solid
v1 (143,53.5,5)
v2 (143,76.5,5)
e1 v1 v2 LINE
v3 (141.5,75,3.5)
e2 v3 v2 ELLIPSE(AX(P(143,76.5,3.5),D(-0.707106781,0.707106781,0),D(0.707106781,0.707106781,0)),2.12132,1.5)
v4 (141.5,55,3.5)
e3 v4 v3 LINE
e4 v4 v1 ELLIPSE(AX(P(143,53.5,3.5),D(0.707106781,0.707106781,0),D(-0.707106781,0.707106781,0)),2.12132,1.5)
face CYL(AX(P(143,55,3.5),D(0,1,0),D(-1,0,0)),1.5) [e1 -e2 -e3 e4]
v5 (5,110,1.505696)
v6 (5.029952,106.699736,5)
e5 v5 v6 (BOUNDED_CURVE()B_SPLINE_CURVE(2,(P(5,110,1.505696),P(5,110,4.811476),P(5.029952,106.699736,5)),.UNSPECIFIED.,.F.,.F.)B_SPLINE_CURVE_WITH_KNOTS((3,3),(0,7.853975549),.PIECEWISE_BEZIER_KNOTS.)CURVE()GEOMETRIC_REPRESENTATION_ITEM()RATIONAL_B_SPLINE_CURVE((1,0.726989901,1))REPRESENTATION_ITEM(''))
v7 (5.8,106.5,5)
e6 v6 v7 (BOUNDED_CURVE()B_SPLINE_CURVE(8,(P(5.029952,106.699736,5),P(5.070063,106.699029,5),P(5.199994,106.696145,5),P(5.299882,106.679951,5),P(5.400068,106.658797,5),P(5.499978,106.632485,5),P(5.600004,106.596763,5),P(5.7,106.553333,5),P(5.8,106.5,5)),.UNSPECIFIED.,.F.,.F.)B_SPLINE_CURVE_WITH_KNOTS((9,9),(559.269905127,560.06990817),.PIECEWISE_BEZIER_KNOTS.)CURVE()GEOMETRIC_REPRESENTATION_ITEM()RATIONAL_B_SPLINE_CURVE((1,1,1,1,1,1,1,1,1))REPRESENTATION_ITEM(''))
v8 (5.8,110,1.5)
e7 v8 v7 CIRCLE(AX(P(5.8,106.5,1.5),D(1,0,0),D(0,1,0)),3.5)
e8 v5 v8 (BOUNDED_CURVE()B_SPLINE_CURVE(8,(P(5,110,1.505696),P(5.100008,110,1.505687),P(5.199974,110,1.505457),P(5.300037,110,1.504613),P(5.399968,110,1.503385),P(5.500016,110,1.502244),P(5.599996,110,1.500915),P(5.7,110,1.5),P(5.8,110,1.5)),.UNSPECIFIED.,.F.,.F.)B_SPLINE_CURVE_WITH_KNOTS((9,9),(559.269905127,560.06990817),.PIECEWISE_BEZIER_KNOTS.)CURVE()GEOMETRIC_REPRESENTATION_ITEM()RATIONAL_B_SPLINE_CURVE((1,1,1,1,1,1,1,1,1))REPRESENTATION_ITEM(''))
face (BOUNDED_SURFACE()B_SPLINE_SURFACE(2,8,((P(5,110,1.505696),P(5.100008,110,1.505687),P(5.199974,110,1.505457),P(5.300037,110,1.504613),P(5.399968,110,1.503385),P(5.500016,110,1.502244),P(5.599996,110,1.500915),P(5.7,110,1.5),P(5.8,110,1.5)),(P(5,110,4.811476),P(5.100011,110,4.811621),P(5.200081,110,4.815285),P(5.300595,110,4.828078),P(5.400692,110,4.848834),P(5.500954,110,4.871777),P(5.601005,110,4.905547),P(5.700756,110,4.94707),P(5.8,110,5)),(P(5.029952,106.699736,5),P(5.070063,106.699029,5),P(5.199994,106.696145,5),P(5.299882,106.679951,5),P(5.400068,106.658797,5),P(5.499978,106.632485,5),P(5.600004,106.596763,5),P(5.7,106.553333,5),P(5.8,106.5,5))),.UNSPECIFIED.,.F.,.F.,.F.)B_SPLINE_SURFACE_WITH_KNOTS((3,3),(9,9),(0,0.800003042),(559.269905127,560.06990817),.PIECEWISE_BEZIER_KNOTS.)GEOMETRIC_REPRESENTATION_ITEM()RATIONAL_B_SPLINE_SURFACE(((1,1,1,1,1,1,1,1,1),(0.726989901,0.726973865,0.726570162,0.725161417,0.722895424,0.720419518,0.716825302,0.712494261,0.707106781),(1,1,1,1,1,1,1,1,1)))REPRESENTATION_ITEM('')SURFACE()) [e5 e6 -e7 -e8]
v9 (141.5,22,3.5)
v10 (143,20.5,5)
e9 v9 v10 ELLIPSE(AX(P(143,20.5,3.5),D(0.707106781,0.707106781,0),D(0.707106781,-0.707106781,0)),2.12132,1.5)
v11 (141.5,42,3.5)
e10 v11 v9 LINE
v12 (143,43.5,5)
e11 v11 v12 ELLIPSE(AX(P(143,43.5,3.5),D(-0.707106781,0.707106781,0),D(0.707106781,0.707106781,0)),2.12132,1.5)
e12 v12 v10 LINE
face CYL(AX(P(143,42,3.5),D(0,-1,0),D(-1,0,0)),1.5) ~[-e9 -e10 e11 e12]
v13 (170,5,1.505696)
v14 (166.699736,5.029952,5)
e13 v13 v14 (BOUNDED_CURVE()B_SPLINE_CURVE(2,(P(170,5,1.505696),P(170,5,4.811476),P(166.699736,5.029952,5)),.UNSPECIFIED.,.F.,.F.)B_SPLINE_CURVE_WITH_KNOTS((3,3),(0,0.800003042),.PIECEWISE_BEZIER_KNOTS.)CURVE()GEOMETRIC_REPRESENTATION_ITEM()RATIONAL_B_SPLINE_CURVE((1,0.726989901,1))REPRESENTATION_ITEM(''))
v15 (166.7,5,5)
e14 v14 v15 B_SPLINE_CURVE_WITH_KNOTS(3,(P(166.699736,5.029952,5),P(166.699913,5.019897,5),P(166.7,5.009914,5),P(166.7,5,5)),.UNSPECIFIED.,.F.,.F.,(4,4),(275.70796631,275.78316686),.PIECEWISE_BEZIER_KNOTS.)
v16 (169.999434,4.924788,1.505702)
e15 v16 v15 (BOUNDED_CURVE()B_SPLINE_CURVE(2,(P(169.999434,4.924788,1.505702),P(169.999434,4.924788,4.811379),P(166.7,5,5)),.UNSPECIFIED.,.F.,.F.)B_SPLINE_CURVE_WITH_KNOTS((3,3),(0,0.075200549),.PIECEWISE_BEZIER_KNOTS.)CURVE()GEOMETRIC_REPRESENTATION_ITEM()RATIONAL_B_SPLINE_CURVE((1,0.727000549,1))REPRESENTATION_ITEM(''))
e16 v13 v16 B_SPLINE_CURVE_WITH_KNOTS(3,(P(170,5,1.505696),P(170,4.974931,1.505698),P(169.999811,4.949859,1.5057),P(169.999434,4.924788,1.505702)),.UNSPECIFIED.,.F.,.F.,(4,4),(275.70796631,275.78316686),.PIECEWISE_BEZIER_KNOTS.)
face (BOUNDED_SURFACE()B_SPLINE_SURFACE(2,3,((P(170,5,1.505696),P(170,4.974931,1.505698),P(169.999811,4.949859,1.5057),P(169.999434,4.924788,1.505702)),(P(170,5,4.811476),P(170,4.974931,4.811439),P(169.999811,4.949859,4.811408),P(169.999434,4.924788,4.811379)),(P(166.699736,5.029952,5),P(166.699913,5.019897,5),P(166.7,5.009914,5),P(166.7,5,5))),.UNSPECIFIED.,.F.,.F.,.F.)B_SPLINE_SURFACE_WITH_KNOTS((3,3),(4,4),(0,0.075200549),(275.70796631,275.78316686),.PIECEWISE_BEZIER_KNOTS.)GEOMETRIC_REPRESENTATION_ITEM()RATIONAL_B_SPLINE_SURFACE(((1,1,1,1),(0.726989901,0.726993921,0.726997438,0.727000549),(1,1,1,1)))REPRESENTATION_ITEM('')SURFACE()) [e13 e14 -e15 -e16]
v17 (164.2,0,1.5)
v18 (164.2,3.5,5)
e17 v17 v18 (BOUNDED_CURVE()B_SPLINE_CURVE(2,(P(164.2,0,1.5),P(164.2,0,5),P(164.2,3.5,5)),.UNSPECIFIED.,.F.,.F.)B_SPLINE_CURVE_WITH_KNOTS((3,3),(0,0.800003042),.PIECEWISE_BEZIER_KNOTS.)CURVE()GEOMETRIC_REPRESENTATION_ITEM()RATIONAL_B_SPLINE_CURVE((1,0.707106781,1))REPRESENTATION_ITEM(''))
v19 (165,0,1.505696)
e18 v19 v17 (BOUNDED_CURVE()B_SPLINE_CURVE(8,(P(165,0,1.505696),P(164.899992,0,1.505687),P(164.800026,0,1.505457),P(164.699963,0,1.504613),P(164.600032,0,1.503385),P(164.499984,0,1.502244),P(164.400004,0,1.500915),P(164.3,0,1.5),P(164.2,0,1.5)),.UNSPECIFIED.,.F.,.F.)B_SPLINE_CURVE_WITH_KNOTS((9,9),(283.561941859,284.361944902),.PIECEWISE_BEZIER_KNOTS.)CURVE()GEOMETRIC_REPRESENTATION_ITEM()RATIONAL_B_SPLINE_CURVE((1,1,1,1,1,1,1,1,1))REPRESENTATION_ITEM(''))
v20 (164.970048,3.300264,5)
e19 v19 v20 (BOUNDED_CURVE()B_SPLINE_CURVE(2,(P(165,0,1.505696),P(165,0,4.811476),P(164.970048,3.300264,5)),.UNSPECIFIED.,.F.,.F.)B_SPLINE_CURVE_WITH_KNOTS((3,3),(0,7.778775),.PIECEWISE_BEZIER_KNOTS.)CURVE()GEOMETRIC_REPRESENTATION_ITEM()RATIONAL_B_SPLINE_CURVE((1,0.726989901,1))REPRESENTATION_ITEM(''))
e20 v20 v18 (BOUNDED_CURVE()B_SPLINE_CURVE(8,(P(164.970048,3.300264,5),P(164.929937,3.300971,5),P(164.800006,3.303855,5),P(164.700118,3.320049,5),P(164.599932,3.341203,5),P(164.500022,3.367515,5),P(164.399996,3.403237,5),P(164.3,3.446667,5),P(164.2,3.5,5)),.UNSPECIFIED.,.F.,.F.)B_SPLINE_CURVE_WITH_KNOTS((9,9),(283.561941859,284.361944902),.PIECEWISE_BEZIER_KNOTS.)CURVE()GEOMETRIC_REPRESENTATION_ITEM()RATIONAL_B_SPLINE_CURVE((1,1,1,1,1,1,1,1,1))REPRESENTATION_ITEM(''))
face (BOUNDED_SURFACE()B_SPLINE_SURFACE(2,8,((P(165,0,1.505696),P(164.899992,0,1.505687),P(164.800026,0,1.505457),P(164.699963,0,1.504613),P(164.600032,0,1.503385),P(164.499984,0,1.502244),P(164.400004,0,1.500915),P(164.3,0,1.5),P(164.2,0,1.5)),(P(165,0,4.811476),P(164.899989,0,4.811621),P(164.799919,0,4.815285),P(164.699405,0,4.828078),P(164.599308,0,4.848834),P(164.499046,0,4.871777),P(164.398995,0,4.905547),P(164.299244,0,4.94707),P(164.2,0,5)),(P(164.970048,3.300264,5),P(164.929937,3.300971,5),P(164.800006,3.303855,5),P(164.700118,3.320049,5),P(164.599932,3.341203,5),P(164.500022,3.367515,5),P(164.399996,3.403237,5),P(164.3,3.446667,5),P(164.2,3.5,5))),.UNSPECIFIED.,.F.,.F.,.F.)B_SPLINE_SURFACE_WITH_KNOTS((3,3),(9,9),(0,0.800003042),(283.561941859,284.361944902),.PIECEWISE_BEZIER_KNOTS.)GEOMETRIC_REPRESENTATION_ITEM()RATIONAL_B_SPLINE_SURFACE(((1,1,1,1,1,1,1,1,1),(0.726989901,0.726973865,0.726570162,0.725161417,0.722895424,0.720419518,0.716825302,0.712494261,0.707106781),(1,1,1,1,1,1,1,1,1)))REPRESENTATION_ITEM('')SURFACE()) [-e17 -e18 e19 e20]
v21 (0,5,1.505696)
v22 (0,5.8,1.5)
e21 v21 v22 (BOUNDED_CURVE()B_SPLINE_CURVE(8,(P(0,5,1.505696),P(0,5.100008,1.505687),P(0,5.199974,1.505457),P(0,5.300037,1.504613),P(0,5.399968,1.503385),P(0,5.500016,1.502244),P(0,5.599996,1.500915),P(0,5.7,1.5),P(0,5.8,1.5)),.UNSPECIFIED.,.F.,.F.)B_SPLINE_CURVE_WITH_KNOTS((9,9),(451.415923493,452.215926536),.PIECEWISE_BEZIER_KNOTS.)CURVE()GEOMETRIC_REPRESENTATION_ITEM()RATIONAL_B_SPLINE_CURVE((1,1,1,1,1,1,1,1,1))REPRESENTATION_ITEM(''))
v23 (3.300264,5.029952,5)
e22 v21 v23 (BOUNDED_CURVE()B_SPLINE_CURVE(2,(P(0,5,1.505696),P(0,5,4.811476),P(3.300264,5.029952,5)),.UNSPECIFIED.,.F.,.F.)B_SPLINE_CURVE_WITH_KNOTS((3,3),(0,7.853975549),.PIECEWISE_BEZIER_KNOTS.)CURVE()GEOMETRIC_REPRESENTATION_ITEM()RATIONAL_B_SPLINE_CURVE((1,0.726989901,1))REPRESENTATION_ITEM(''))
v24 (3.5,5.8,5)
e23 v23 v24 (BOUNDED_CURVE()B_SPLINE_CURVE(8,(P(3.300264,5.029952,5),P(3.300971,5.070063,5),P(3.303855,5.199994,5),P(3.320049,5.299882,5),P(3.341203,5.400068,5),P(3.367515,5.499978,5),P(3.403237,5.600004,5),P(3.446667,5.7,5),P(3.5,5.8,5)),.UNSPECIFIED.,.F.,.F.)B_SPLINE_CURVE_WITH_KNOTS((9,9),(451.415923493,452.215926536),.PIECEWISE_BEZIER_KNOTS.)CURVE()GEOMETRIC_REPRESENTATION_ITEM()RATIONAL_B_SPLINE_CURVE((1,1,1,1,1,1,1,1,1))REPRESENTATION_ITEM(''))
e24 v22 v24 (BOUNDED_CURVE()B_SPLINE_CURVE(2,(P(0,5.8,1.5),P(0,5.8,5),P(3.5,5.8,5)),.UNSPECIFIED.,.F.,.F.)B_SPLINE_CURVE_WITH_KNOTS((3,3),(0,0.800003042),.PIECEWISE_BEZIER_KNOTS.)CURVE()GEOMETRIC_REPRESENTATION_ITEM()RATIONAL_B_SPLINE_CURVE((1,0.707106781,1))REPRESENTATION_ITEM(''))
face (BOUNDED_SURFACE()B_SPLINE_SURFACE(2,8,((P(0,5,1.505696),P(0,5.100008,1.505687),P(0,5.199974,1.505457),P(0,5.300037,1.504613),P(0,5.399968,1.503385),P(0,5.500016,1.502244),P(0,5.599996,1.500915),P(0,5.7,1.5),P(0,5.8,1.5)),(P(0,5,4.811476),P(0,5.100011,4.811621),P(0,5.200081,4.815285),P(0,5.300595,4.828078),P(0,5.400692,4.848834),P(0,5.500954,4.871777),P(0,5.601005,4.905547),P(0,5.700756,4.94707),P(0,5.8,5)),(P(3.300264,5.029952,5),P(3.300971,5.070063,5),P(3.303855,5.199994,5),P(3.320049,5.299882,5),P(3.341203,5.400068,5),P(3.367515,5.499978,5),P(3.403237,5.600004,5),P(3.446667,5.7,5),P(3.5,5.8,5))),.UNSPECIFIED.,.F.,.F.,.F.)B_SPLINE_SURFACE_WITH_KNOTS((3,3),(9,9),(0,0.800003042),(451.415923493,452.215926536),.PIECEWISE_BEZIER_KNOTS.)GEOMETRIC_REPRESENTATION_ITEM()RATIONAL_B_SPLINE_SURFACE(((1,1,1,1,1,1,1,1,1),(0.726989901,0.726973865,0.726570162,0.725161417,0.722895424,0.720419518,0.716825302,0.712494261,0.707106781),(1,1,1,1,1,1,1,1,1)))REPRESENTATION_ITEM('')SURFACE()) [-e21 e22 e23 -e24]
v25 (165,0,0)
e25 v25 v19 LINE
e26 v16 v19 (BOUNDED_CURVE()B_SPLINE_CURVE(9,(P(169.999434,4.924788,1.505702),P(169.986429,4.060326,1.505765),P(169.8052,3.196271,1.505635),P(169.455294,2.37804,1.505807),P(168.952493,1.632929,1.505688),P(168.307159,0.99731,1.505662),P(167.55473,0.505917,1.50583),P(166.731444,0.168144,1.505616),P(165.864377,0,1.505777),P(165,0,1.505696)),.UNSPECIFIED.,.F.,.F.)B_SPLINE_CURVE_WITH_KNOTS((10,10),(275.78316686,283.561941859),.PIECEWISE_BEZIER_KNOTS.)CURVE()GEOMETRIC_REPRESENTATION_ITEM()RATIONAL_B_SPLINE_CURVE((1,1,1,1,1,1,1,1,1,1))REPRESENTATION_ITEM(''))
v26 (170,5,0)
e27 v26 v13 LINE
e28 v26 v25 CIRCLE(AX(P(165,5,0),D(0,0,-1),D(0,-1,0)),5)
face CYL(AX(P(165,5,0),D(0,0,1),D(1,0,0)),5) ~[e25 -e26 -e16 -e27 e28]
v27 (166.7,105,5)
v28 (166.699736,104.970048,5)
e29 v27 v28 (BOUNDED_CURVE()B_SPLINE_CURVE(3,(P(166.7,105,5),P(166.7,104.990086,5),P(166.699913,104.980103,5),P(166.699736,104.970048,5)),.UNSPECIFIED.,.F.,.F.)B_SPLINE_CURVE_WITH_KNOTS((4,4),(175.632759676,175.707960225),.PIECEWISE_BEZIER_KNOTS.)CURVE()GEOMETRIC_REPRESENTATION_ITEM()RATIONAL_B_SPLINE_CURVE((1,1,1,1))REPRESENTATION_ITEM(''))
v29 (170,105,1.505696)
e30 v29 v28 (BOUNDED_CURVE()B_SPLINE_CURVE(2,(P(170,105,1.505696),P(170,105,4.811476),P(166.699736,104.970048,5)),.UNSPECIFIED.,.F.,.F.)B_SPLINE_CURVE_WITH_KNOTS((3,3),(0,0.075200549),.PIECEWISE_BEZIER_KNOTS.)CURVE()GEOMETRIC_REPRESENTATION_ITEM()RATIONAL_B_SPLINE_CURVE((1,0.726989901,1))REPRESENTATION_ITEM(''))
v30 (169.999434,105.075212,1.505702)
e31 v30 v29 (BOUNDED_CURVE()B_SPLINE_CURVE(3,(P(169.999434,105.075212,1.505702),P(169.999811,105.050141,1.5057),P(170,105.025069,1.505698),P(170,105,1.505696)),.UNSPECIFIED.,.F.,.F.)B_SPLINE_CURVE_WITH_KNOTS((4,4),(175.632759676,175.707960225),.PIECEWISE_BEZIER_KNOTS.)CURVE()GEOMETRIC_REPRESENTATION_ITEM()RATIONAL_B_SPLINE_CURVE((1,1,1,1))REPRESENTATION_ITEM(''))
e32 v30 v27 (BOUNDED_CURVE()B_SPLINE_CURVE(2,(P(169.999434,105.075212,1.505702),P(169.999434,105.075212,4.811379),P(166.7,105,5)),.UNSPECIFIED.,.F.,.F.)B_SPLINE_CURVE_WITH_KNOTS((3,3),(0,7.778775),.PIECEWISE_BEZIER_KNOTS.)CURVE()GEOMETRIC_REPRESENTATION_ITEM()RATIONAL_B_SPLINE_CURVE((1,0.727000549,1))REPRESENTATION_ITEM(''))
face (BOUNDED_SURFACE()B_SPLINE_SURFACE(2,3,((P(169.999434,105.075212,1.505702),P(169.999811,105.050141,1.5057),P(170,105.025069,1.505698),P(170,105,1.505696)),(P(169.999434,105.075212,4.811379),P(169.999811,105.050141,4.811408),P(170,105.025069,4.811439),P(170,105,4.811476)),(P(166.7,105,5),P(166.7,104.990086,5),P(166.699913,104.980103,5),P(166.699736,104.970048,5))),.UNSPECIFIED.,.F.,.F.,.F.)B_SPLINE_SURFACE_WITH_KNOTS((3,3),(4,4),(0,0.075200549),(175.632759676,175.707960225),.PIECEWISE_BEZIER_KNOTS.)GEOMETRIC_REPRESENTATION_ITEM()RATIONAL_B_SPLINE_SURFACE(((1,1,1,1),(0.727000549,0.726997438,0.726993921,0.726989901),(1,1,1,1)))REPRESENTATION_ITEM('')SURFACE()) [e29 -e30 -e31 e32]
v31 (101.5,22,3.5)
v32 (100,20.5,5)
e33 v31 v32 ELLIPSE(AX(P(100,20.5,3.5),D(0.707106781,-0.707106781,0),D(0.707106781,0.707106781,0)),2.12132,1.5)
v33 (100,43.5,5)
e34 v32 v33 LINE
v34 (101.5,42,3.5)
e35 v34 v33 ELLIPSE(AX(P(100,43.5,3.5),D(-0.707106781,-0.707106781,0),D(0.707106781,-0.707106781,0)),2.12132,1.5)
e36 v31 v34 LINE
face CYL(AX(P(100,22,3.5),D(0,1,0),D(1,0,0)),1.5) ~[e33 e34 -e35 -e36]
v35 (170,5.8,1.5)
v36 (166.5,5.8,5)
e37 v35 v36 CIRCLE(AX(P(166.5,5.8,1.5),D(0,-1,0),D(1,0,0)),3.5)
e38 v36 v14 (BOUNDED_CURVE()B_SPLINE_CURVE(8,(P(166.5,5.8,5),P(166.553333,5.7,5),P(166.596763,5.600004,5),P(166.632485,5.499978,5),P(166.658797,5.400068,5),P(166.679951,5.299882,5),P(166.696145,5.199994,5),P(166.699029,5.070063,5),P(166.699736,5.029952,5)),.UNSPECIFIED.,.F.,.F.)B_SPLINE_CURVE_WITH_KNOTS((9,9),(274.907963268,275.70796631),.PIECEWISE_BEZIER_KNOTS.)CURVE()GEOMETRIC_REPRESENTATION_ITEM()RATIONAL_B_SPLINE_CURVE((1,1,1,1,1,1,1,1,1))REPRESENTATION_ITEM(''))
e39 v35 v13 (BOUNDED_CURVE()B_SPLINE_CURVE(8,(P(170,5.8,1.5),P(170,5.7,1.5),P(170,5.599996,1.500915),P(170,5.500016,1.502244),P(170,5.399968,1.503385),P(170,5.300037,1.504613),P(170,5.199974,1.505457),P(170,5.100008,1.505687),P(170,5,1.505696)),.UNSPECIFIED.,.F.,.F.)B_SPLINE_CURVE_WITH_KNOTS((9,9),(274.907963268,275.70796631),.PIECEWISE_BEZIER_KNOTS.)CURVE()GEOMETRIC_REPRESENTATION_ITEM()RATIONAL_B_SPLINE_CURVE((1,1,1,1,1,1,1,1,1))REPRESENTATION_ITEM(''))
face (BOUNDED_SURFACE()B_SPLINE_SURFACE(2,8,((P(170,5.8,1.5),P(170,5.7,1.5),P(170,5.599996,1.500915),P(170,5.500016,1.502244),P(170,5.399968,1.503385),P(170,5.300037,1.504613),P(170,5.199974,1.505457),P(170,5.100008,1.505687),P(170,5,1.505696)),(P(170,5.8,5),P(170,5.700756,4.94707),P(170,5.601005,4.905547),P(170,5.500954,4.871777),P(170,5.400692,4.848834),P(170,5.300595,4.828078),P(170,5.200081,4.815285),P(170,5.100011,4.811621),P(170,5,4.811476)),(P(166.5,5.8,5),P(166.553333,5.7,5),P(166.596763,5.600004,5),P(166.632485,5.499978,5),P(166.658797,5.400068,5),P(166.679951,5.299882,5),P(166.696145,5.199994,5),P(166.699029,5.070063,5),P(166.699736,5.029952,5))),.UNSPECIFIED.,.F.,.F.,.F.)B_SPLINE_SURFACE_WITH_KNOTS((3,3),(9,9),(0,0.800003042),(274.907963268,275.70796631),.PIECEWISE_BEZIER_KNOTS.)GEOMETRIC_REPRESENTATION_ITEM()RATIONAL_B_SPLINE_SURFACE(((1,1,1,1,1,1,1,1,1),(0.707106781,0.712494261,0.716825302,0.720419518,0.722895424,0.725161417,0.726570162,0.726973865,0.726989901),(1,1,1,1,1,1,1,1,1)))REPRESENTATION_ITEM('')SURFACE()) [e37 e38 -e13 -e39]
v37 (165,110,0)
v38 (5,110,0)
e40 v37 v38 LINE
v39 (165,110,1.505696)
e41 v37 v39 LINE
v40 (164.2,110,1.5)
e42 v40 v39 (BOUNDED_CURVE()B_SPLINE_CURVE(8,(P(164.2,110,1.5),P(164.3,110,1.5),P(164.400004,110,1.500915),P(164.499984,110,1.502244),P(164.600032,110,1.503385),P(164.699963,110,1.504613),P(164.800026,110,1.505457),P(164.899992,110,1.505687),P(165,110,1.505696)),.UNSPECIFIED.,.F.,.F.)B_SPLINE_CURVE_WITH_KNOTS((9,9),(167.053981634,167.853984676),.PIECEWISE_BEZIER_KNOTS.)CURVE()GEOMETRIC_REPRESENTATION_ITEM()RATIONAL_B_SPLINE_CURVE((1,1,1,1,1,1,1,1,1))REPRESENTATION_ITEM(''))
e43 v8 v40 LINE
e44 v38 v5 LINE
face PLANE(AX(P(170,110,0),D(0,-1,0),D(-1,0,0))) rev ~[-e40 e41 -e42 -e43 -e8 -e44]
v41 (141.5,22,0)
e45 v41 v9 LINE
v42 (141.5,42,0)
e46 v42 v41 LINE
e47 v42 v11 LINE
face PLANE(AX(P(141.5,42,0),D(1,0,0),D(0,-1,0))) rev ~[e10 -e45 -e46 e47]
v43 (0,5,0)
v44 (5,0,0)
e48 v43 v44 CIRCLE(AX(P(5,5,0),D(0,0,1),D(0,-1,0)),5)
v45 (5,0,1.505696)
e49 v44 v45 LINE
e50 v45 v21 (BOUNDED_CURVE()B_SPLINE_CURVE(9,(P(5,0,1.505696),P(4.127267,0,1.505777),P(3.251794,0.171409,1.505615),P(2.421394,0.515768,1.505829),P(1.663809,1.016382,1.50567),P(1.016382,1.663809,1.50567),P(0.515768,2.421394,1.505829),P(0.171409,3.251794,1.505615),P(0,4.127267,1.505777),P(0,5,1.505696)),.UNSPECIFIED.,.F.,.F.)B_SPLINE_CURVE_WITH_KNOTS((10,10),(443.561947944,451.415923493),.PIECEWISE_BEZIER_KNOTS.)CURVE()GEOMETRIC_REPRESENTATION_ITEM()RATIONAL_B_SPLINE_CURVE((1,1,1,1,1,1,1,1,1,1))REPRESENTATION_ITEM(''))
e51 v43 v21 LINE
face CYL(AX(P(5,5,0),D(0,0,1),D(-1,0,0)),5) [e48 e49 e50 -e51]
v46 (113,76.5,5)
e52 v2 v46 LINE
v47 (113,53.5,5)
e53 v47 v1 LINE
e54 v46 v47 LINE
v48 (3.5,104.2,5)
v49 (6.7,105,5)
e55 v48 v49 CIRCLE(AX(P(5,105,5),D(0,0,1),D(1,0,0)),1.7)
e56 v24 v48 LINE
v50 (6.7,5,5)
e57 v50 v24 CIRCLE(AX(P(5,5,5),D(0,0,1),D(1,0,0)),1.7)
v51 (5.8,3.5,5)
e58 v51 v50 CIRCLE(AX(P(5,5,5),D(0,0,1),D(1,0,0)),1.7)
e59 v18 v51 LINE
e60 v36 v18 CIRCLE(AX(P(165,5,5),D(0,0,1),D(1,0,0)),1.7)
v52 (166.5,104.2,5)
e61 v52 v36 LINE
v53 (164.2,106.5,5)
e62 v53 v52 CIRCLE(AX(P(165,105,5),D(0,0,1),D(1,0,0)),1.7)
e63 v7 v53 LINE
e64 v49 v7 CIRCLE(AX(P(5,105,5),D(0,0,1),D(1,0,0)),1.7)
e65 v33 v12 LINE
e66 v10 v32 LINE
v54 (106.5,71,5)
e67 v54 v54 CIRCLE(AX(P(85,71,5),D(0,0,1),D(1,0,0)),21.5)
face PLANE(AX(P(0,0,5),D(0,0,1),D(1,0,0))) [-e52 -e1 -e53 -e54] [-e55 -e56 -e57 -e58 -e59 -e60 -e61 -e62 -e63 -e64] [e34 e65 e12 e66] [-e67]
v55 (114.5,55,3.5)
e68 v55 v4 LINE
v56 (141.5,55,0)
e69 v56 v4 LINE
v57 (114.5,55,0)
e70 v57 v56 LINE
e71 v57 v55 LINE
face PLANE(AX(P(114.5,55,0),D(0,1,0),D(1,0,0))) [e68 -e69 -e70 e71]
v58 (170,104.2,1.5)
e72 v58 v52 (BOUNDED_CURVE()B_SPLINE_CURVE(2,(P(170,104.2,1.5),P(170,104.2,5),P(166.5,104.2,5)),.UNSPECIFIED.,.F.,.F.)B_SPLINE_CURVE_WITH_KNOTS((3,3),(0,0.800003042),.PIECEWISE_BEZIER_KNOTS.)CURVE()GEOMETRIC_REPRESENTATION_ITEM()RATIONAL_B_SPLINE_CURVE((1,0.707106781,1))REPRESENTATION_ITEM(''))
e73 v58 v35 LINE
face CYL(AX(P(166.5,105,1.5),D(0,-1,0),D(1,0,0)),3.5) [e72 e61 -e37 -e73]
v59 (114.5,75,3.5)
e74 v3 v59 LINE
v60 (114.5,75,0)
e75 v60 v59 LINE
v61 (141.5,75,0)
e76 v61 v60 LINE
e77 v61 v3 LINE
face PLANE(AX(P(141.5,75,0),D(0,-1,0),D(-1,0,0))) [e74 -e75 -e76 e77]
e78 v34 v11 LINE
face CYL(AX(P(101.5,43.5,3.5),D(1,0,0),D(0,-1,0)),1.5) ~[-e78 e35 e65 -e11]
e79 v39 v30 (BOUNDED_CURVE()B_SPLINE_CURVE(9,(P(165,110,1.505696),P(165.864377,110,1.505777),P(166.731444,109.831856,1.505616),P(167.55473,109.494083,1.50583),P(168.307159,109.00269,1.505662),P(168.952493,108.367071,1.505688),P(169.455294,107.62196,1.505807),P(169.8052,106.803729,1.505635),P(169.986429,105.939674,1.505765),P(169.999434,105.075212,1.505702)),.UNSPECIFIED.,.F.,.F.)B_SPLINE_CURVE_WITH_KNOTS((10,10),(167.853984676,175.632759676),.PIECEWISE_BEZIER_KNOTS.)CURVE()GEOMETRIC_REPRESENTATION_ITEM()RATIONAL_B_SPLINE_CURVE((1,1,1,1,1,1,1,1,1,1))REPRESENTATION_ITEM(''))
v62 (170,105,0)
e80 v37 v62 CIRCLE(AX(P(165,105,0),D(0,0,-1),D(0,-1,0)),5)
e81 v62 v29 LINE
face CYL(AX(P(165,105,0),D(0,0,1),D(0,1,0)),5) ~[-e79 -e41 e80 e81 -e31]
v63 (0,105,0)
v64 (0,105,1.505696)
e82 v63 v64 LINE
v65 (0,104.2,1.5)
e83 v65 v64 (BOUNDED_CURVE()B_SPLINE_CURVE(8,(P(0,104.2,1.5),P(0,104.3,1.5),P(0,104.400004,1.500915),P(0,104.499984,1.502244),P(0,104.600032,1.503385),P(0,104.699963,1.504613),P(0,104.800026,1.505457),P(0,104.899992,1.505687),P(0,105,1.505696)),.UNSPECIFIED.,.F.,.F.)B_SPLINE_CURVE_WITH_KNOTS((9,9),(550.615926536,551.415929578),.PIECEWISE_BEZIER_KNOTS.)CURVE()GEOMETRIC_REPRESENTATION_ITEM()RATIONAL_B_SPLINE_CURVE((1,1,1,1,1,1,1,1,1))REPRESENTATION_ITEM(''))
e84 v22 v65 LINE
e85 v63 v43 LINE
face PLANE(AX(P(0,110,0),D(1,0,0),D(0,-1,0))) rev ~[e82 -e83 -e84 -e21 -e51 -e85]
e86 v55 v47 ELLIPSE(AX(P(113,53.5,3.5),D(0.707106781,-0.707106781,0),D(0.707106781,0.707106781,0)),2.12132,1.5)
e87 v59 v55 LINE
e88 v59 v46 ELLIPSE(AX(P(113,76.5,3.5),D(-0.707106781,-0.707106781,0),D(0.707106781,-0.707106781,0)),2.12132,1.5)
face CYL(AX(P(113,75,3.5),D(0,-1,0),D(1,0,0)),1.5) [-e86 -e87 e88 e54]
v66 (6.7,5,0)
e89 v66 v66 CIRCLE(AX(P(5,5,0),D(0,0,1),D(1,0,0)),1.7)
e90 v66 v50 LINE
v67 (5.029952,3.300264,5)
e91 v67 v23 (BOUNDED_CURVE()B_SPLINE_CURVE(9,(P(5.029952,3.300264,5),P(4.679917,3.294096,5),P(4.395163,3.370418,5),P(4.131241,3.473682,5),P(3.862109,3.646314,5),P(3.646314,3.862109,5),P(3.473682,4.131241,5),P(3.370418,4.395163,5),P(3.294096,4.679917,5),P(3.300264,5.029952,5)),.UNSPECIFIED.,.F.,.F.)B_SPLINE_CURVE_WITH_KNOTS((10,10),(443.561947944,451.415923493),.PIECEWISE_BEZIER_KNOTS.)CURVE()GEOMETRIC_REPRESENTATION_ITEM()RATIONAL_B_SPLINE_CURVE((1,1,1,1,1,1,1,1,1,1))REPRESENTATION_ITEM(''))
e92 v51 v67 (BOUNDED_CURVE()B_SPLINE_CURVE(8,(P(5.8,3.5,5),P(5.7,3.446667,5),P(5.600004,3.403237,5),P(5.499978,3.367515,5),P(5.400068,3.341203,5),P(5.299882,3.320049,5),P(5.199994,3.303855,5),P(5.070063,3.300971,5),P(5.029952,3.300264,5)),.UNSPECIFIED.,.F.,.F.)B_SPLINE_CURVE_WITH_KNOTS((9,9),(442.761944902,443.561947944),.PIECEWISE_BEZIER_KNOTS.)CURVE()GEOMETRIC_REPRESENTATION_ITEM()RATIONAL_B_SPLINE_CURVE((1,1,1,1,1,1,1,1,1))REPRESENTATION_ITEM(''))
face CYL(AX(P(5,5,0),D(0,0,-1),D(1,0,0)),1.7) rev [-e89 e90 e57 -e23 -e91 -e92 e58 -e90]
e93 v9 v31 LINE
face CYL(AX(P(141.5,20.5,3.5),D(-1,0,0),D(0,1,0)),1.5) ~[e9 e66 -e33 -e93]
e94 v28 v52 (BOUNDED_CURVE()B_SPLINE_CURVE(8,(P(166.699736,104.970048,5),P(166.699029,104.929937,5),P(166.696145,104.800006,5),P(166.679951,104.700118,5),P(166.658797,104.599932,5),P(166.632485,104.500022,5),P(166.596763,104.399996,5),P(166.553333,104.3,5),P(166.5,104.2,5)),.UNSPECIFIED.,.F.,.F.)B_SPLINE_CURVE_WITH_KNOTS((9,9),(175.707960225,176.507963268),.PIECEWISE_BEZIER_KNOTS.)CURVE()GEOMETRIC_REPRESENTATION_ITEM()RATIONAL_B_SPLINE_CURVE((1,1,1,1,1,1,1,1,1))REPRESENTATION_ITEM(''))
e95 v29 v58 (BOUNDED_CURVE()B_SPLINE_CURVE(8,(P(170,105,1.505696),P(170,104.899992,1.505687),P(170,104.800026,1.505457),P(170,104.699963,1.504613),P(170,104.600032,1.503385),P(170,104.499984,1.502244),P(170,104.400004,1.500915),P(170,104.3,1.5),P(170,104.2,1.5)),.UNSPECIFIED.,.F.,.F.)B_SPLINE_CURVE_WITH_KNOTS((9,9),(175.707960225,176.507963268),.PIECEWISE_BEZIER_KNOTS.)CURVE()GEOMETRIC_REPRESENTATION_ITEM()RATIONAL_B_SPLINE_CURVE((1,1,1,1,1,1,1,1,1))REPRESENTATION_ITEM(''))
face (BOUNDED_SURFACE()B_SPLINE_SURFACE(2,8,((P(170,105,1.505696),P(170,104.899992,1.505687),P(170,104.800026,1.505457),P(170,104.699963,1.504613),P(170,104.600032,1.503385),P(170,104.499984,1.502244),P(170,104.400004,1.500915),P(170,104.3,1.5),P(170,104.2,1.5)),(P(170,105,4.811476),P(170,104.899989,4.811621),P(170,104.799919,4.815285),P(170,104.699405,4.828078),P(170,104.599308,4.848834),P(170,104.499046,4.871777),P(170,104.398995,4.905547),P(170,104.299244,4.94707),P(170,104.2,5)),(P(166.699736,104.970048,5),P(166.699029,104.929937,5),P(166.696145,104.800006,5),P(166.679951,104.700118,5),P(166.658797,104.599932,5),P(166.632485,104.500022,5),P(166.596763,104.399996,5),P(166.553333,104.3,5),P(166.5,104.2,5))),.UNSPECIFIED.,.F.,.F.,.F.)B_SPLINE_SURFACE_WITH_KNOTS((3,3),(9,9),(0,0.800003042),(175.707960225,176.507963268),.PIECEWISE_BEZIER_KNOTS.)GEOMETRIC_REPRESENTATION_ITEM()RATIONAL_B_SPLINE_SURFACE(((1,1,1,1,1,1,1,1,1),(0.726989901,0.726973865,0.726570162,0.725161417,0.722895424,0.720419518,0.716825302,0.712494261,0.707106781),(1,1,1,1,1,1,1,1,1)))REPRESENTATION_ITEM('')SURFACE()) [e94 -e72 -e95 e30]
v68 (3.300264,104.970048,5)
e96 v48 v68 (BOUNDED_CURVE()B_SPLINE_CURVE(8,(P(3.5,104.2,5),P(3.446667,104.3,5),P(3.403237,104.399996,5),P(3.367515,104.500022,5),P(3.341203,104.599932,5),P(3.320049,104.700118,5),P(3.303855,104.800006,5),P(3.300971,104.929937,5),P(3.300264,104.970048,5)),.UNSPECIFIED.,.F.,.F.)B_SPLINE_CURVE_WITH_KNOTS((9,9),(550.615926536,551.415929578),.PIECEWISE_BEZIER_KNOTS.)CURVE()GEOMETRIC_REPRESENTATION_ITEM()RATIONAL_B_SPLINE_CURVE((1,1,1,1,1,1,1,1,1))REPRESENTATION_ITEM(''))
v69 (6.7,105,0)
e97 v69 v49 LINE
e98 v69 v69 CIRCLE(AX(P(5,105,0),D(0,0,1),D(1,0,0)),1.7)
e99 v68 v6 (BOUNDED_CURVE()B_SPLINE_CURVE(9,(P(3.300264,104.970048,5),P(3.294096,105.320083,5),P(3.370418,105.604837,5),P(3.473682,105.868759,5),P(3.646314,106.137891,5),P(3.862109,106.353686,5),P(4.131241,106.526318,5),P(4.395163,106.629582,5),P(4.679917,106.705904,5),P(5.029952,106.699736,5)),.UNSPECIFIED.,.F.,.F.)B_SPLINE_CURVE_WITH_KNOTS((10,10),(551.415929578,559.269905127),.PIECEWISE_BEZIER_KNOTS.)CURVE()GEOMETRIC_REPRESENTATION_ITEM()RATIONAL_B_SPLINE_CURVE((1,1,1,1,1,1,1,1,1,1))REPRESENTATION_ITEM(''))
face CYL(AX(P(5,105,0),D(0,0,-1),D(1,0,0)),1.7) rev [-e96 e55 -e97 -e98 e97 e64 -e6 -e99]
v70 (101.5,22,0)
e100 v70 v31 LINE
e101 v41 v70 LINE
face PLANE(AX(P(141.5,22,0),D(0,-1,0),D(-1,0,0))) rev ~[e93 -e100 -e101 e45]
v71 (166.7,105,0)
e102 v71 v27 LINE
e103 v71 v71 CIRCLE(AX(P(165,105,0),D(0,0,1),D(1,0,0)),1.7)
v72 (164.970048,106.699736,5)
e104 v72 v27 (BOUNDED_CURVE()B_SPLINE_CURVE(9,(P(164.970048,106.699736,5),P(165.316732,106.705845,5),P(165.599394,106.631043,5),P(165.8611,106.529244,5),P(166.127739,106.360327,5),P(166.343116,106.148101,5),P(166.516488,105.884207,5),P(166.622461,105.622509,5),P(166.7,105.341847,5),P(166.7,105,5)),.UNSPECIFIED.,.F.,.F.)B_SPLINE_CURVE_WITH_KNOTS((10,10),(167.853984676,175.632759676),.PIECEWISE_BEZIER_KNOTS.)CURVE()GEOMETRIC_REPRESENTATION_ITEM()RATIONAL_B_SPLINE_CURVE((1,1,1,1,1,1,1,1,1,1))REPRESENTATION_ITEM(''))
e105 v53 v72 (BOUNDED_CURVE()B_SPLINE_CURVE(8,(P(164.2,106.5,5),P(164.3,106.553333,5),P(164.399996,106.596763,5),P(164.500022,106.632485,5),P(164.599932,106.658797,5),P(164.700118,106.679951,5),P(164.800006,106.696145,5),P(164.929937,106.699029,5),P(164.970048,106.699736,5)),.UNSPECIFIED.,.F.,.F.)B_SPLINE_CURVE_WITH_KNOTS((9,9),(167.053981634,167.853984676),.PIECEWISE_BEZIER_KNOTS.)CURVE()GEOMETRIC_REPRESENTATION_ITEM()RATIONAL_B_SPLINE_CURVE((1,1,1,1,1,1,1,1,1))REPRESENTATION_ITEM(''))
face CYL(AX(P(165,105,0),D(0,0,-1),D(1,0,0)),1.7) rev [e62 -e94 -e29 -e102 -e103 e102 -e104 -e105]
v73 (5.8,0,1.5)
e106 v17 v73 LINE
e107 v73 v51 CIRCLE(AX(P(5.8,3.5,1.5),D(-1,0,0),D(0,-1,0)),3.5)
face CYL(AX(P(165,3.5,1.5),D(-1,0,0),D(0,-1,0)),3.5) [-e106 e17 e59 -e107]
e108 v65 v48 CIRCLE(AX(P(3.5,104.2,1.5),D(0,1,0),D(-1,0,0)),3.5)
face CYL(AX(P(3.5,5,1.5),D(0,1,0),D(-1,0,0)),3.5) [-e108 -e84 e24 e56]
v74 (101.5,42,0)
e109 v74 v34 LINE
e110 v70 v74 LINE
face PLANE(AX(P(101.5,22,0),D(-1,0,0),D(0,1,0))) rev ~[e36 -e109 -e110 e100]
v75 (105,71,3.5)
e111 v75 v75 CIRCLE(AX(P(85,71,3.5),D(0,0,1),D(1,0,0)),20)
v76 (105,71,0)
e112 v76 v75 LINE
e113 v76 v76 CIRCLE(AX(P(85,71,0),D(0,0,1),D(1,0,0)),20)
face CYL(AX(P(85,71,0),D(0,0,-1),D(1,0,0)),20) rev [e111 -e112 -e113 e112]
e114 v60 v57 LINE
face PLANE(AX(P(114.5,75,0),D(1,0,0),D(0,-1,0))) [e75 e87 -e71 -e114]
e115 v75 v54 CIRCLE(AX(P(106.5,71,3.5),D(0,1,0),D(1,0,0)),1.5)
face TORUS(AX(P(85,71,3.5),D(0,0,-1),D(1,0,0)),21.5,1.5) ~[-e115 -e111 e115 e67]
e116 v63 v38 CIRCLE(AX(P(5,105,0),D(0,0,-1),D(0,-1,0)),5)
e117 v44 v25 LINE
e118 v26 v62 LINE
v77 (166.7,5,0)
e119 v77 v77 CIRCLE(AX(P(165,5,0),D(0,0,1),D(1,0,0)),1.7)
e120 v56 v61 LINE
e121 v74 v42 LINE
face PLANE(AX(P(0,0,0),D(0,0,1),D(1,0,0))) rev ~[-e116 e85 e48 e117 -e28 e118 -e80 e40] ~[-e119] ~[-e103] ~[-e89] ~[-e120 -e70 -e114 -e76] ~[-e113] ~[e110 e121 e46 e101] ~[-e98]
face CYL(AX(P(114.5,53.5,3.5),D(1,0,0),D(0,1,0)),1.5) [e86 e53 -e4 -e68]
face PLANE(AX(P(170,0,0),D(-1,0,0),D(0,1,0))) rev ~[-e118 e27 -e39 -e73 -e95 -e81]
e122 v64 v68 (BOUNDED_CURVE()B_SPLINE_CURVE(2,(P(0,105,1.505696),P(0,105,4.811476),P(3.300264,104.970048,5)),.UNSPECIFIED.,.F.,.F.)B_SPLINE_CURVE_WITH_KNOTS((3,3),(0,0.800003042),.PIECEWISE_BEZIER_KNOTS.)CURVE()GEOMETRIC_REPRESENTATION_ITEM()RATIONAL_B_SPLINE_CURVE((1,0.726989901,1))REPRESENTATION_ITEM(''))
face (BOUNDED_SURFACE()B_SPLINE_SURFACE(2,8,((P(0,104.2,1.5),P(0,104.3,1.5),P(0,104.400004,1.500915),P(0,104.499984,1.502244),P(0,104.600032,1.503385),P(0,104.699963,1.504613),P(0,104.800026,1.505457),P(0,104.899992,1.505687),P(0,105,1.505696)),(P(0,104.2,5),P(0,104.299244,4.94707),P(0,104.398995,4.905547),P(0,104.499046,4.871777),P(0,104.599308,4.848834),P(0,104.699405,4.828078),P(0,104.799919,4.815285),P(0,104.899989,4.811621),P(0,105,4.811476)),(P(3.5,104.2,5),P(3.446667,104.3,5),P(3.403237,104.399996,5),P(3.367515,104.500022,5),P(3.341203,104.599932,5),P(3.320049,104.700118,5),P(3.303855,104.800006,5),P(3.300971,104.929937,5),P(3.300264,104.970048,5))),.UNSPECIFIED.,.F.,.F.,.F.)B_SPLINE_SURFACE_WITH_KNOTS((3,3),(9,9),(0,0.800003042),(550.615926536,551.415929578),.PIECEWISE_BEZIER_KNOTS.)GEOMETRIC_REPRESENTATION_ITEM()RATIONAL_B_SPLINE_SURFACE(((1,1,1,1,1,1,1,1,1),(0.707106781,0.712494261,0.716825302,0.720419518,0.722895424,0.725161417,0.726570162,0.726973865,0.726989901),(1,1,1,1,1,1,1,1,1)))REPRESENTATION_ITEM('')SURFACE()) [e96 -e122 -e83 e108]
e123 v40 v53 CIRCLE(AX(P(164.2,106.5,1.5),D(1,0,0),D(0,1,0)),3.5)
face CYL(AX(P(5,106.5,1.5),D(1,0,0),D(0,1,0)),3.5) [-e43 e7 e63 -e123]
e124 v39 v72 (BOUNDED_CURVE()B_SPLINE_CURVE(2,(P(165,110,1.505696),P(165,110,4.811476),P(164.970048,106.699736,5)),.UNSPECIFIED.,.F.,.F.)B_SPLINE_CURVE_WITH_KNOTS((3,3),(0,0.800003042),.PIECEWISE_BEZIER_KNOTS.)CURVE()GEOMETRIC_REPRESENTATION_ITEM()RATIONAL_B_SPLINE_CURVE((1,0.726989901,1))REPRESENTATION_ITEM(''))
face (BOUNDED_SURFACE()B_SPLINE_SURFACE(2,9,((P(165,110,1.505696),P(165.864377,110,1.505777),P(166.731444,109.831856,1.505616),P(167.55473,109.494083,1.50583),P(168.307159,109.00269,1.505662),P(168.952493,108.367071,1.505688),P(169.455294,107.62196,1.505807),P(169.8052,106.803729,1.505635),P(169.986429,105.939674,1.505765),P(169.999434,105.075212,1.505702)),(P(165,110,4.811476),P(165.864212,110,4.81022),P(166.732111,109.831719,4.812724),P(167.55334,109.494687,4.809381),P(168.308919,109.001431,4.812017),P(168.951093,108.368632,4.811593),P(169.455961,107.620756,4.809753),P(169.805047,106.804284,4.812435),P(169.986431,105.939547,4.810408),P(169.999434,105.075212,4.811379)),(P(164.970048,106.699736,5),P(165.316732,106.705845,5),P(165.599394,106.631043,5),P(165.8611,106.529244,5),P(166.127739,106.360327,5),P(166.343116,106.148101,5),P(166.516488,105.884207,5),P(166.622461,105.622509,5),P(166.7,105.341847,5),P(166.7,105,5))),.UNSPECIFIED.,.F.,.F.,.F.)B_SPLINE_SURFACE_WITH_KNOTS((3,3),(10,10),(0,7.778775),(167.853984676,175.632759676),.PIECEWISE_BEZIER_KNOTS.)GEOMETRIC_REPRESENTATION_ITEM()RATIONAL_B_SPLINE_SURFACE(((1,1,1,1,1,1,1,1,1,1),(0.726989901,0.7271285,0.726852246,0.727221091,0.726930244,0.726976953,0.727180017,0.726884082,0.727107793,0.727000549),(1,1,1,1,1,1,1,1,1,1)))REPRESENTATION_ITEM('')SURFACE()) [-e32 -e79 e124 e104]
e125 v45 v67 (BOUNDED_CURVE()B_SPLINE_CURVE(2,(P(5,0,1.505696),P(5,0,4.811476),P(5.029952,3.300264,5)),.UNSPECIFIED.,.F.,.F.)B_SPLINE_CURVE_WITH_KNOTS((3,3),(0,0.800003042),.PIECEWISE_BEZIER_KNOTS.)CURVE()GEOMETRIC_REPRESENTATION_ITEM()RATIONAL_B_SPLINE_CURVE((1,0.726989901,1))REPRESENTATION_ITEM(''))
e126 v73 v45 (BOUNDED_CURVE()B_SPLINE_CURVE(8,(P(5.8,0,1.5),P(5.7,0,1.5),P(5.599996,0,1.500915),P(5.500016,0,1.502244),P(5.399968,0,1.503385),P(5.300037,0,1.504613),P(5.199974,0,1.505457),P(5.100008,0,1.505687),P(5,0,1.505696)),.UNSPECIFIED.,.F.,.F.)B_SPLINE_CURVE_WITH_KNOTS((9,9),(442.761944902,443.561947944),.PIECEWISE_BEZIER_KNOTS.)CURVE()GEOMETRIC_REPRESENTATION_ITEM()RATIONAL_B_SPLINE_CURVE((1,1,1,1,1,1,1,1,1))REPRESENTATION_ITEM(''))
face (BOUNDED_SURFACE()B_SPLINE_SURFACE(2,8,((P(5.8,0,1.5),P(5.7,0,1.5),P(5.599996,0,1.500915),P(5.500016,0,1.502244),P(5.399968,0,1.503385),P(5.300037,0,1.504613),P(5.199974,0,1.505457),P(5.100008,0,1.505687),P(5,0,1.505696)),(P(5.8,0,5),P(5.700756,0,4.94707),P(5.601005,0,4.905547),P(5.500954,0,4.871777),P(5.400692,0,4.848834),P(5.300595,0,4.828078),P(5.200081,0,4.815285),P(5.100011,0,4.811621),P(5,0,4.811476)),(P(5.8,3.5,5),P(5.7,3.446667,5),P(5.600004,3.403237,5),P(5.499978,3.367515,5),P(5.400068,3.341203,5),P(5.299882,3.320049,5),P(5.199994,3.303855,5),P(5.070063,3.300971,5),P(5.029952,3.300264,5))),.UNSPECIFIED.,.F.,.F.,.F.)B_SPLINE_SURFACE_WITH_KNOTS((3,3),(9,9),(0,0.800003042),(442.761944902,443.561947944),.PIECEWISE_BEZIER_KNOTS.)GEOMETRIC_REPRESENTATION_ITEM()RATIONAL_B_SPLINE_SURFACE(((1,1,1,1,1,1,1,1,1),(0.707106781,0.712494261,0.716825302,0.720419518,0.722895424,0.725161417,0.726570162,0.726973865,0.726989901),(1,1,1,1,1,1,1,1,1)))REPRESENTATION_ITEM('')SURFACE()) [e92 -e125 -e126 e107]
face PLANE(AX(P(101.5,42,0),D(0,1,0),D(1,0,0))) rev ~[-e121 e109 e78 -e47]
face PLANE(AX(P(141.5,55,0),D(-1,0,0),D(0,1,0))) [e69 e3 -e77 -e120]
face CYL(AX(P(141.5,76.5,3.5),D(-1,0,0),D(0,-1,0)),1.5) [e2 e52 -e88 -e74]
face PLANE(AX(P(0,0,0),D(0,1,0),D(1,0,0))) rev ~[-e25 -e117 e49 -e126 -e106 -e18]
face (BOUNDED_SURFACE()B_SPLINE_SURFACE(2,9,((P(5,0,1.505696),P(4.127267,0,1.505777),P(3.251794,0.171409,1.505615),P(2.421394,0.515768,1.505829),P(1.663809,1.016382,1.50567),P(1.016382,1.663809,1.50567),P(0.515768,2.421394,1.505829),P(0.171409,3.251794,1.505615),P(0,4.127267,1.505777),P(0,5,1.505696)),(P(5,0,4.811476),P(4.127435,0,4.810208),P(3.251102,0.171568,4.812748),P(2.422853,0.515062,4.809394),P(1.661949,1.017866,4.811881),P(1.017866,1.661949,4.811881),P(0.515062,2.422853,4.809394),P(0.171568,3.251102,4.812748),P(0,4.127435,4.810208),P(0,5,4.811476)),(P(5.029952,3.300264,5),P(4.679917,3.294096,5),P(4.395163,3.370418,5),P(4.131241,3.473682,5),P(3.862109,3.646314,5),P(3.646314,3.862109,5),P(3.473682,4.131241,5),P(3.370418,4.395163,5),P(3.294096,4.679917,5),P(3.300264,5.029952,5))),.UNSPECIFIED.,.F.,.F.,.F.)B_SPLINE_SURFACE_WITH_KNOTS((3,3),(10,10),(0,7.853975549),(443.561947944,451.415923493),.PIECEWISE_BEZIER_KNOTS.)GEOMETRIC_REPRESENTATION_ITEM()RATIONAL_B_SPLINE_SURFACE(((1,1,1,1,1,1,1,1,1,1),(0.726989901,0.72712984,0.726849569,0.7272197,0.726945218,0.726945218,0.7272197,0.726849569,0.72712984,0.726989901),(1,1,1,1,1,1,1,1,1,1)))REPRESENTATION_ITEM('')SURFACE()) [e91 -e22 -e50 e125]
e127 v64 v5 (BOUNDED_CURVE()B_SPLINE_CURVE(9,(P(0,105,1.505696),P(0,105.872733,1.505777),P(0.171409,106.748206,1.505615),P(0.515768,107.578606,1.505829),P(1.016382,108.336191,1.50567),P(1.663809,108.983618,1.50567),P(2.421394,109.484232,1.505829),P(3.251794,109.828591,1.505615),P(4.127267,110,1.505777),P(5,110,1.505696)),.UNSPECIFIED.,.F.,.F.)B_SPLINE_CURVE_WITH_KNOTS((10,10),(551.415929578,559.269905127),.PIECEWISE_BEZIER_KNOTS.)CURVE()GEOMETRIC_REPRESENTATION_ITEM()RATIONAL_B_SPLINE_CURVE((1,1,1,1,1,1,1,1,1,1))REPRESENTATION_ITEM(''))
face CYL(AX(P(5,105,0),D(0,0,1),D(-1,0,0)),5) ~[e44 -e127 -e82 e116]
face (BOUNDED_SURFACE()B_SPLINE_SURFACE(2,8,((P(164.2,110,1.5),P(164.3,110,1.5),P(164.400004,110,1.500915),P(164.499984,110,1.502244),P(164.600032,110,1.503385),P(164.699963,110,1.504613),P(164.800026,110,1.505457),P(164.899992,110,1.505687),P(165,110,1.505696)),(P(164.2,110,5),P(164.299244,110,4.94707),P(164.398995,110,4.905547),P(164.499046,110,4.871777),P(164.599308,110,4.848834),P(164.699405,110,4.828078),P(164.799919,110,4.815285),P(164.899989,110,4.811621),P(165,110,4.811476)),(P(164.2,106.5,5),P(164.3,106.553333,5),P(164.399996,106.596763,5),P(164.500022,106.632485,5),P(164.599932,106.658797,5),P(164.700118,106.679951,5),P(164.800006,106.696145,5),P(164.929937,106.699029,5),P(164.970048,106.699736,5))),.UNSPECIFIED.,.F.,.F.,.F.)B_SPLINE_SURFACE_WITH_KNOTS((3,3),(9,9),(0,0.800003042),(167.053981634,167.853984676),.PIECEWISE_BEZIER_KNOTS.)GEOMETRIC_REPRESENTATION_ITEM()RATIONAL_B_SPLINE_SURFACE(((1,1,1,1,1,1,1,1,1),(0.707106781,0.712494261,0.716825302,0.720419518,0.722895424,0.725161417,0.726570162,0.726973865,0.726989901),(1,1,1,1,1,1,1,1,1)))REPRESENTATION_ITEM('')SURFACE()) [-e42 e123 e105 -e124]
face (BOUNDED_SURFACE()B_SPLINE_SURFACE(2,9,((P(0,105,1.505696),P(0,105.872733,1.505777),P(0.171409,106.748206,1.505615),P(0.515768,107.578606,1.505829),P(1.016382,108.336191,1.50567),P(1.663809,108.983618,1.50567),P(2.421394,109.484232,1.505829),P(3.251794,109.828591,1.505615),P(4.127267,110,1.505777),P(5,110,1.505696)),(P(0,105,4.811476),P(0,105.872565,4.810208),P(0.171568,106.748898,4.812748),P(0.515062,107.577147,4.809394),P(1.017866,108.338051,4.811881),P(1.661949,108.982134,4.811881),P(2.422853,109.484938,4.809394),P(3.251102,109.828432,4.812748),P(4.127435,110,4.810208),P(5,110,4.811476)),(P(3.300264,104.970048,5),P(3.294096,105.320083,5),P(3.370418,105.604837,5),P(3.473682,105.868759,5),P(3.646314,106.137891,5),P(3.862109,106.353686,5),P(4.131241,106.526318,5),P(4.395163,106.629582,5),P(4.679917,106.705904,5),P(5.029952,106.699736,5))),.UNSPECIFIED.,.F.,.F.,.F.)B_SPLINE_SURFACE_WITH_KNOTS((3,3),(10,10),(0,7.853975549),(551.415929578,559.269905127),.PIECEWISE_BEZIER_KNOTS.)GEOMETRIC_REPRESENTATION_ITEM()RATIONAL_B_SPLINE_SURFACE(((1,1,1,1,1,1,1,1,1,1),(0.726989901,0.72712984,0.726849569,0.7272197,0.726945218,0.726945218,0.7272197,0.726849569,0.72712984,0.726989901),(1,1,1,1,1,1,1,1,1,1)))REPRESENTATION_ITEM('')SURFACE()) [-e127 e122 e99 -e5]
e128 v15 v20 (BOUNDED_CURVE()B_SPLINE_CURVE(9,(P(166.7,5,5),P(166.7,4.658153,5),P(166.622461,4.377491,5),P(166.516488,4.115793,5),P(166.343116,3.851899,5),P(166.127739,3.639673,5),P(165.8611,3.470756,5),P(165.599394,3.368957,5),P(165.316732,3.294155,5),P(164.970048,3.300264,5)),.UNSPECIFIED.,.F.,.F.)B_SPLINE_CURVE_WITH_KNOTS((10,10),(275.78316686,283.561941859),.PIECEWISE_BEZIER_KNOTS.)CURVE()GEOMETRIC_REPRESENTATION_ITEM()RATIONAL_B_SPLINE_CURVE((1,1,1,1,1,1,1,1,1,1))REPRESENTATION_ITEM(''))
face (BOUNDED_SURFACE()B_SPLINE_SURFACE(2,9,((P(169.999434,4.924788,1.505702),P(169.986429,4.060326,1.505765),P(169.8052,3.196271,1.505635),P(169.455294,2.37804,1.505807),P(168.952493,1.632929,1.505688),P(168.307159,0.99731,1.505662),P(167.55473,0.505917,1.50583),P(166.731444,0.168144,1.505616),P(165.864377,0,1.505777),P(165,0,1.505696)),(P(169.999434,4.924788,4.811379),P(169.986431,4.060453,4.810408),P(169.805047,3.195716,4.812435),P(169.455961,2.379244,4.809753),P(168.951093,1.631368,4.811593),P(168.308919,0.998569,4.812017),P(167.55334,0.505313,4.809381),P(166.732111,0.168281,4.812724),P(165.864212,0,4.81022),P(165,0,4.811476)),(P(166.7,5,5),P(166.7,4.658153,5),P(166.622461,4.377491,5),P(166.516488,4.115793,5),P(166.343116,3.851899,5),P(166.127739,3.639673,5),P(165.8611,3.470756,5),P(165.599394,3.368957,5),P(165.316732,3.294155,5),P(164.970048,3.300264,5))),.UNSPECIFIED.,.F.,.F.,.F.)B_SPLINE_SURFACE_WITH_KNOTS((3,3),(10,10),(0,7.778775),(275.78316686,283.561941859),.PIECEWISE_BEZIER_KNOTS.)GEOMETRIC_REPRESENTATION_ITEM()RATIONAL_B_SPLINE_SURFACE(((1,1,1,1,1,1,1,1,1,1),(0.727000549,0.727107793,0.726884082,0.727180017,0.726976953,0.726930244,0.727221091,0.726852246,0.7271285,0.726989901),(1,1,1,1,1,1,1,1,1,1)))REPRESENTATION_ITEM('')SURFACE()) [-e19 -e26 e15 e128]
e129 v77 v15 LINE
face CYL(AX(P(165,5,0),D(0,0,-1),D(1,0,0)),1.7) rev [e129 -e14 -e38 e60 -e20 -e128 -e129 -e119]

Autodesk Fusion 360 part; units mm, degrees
sketch "Sketch1" plane through (0, 0, 0) normal (0, 0, 1) x (1, 0, 0) in component "FloppySquare Top (1)"
  line L0 (0, 0) -> (170, 0)
  line L1 (170, 0) -> (170, 110)
  line L2 (170, 110) -> (0, 110)
  line L3 (0, 110) -> (0, 0)
  circle A0 centre (5, 105) radius 1.7
  circle A1 centre (5, 5) radius 1.7
  circle A2 centre (165, 105) radius 1.7
  circle A3 centre (165, 5) radius 1.7
  line L4 (141.5, 75) -> (114.5, 75)
  line L5 (114.5, 75) -> (114.5, 55)
  line L6 (114.5, 55) -> (141.5, 55)
  line L7 (141.5, 55) -> (141.5, 75)
  circle A4 centre (85, 71) radius 20
  line L8 (141.5, 22) -> (101.5, 22)
  line L9 (101.5, 22) -> (101.5, 42)
  line L10 (101.5, 42) -> (141.5, 42)
  line L11 (141.5, 42) -> (141.5, 22)
  dimension "d1" = 170
  dimension "d2" = 110
  dimension "d3" = 3.4
  dimension "d4" = 3.4
  dimension "d5" = 3.4
  dimension "d6" = 3.4
  dimension "d7" = 5
  dimension "d8" = 5
  dimension "d9" = 5
  dimension "d10" = 5
  dimension "d11" = 5
  dimension "d12" = 5
  dimension "d13" = 5
  dimension "d14" = 5
  dimension "d15" = 27
  dimension "d16" = 20
  dimension "d17" = 28.5
  dimension "d18" = 35
  dimension "d19" = 40
  dimension "d20" = 85
  dimension "d21" = 39
  dimension "d22" = 40
  dimension "d23" = 20
  dimension "d24" = 22
  dimension "d25" = 28.5
extrude "Extrude1" add sketch "Sketch1" along normal blind 5 in component "FloppySquare Top (1)"
fillet "Fillet1" radius 5 4 edges at (0, 110, 2.5) (0, 0, 2.5) (170, 0, 2.5) (170, 110, 2.5) in component "FloppySquare Top (1)"
fillet "Fillet2" radius 3.5 8 edges at (1.4645, 108.5355, 5) (0, 55, 5) (1.4645, 1.4645, 5) (85, 0, 5) (168.5355, 1.4645, 5) (170, 55, 5) (168.5355, 108.5355, 5) (85, 110, 5) in component "FloppySquare Top (1)"
fillet "Fillet3" radius 1.5 9 edges at (141.5, 65, 5) (128, 55, 5) (114.5, 65, 5) (128, 75, 5) (121.5, 42, 5) (141.5, 32, 5) (101.5, 32, 5) (121.5, 22, 5) (66.3535, 78.2323, 5) in component "FloppySquare Top (1)"
component "FloppySquare Top (1)" placed x (1, 0, 0) y (0, 1, 0) z (0, 0, 1) at (0, 0, 0)
